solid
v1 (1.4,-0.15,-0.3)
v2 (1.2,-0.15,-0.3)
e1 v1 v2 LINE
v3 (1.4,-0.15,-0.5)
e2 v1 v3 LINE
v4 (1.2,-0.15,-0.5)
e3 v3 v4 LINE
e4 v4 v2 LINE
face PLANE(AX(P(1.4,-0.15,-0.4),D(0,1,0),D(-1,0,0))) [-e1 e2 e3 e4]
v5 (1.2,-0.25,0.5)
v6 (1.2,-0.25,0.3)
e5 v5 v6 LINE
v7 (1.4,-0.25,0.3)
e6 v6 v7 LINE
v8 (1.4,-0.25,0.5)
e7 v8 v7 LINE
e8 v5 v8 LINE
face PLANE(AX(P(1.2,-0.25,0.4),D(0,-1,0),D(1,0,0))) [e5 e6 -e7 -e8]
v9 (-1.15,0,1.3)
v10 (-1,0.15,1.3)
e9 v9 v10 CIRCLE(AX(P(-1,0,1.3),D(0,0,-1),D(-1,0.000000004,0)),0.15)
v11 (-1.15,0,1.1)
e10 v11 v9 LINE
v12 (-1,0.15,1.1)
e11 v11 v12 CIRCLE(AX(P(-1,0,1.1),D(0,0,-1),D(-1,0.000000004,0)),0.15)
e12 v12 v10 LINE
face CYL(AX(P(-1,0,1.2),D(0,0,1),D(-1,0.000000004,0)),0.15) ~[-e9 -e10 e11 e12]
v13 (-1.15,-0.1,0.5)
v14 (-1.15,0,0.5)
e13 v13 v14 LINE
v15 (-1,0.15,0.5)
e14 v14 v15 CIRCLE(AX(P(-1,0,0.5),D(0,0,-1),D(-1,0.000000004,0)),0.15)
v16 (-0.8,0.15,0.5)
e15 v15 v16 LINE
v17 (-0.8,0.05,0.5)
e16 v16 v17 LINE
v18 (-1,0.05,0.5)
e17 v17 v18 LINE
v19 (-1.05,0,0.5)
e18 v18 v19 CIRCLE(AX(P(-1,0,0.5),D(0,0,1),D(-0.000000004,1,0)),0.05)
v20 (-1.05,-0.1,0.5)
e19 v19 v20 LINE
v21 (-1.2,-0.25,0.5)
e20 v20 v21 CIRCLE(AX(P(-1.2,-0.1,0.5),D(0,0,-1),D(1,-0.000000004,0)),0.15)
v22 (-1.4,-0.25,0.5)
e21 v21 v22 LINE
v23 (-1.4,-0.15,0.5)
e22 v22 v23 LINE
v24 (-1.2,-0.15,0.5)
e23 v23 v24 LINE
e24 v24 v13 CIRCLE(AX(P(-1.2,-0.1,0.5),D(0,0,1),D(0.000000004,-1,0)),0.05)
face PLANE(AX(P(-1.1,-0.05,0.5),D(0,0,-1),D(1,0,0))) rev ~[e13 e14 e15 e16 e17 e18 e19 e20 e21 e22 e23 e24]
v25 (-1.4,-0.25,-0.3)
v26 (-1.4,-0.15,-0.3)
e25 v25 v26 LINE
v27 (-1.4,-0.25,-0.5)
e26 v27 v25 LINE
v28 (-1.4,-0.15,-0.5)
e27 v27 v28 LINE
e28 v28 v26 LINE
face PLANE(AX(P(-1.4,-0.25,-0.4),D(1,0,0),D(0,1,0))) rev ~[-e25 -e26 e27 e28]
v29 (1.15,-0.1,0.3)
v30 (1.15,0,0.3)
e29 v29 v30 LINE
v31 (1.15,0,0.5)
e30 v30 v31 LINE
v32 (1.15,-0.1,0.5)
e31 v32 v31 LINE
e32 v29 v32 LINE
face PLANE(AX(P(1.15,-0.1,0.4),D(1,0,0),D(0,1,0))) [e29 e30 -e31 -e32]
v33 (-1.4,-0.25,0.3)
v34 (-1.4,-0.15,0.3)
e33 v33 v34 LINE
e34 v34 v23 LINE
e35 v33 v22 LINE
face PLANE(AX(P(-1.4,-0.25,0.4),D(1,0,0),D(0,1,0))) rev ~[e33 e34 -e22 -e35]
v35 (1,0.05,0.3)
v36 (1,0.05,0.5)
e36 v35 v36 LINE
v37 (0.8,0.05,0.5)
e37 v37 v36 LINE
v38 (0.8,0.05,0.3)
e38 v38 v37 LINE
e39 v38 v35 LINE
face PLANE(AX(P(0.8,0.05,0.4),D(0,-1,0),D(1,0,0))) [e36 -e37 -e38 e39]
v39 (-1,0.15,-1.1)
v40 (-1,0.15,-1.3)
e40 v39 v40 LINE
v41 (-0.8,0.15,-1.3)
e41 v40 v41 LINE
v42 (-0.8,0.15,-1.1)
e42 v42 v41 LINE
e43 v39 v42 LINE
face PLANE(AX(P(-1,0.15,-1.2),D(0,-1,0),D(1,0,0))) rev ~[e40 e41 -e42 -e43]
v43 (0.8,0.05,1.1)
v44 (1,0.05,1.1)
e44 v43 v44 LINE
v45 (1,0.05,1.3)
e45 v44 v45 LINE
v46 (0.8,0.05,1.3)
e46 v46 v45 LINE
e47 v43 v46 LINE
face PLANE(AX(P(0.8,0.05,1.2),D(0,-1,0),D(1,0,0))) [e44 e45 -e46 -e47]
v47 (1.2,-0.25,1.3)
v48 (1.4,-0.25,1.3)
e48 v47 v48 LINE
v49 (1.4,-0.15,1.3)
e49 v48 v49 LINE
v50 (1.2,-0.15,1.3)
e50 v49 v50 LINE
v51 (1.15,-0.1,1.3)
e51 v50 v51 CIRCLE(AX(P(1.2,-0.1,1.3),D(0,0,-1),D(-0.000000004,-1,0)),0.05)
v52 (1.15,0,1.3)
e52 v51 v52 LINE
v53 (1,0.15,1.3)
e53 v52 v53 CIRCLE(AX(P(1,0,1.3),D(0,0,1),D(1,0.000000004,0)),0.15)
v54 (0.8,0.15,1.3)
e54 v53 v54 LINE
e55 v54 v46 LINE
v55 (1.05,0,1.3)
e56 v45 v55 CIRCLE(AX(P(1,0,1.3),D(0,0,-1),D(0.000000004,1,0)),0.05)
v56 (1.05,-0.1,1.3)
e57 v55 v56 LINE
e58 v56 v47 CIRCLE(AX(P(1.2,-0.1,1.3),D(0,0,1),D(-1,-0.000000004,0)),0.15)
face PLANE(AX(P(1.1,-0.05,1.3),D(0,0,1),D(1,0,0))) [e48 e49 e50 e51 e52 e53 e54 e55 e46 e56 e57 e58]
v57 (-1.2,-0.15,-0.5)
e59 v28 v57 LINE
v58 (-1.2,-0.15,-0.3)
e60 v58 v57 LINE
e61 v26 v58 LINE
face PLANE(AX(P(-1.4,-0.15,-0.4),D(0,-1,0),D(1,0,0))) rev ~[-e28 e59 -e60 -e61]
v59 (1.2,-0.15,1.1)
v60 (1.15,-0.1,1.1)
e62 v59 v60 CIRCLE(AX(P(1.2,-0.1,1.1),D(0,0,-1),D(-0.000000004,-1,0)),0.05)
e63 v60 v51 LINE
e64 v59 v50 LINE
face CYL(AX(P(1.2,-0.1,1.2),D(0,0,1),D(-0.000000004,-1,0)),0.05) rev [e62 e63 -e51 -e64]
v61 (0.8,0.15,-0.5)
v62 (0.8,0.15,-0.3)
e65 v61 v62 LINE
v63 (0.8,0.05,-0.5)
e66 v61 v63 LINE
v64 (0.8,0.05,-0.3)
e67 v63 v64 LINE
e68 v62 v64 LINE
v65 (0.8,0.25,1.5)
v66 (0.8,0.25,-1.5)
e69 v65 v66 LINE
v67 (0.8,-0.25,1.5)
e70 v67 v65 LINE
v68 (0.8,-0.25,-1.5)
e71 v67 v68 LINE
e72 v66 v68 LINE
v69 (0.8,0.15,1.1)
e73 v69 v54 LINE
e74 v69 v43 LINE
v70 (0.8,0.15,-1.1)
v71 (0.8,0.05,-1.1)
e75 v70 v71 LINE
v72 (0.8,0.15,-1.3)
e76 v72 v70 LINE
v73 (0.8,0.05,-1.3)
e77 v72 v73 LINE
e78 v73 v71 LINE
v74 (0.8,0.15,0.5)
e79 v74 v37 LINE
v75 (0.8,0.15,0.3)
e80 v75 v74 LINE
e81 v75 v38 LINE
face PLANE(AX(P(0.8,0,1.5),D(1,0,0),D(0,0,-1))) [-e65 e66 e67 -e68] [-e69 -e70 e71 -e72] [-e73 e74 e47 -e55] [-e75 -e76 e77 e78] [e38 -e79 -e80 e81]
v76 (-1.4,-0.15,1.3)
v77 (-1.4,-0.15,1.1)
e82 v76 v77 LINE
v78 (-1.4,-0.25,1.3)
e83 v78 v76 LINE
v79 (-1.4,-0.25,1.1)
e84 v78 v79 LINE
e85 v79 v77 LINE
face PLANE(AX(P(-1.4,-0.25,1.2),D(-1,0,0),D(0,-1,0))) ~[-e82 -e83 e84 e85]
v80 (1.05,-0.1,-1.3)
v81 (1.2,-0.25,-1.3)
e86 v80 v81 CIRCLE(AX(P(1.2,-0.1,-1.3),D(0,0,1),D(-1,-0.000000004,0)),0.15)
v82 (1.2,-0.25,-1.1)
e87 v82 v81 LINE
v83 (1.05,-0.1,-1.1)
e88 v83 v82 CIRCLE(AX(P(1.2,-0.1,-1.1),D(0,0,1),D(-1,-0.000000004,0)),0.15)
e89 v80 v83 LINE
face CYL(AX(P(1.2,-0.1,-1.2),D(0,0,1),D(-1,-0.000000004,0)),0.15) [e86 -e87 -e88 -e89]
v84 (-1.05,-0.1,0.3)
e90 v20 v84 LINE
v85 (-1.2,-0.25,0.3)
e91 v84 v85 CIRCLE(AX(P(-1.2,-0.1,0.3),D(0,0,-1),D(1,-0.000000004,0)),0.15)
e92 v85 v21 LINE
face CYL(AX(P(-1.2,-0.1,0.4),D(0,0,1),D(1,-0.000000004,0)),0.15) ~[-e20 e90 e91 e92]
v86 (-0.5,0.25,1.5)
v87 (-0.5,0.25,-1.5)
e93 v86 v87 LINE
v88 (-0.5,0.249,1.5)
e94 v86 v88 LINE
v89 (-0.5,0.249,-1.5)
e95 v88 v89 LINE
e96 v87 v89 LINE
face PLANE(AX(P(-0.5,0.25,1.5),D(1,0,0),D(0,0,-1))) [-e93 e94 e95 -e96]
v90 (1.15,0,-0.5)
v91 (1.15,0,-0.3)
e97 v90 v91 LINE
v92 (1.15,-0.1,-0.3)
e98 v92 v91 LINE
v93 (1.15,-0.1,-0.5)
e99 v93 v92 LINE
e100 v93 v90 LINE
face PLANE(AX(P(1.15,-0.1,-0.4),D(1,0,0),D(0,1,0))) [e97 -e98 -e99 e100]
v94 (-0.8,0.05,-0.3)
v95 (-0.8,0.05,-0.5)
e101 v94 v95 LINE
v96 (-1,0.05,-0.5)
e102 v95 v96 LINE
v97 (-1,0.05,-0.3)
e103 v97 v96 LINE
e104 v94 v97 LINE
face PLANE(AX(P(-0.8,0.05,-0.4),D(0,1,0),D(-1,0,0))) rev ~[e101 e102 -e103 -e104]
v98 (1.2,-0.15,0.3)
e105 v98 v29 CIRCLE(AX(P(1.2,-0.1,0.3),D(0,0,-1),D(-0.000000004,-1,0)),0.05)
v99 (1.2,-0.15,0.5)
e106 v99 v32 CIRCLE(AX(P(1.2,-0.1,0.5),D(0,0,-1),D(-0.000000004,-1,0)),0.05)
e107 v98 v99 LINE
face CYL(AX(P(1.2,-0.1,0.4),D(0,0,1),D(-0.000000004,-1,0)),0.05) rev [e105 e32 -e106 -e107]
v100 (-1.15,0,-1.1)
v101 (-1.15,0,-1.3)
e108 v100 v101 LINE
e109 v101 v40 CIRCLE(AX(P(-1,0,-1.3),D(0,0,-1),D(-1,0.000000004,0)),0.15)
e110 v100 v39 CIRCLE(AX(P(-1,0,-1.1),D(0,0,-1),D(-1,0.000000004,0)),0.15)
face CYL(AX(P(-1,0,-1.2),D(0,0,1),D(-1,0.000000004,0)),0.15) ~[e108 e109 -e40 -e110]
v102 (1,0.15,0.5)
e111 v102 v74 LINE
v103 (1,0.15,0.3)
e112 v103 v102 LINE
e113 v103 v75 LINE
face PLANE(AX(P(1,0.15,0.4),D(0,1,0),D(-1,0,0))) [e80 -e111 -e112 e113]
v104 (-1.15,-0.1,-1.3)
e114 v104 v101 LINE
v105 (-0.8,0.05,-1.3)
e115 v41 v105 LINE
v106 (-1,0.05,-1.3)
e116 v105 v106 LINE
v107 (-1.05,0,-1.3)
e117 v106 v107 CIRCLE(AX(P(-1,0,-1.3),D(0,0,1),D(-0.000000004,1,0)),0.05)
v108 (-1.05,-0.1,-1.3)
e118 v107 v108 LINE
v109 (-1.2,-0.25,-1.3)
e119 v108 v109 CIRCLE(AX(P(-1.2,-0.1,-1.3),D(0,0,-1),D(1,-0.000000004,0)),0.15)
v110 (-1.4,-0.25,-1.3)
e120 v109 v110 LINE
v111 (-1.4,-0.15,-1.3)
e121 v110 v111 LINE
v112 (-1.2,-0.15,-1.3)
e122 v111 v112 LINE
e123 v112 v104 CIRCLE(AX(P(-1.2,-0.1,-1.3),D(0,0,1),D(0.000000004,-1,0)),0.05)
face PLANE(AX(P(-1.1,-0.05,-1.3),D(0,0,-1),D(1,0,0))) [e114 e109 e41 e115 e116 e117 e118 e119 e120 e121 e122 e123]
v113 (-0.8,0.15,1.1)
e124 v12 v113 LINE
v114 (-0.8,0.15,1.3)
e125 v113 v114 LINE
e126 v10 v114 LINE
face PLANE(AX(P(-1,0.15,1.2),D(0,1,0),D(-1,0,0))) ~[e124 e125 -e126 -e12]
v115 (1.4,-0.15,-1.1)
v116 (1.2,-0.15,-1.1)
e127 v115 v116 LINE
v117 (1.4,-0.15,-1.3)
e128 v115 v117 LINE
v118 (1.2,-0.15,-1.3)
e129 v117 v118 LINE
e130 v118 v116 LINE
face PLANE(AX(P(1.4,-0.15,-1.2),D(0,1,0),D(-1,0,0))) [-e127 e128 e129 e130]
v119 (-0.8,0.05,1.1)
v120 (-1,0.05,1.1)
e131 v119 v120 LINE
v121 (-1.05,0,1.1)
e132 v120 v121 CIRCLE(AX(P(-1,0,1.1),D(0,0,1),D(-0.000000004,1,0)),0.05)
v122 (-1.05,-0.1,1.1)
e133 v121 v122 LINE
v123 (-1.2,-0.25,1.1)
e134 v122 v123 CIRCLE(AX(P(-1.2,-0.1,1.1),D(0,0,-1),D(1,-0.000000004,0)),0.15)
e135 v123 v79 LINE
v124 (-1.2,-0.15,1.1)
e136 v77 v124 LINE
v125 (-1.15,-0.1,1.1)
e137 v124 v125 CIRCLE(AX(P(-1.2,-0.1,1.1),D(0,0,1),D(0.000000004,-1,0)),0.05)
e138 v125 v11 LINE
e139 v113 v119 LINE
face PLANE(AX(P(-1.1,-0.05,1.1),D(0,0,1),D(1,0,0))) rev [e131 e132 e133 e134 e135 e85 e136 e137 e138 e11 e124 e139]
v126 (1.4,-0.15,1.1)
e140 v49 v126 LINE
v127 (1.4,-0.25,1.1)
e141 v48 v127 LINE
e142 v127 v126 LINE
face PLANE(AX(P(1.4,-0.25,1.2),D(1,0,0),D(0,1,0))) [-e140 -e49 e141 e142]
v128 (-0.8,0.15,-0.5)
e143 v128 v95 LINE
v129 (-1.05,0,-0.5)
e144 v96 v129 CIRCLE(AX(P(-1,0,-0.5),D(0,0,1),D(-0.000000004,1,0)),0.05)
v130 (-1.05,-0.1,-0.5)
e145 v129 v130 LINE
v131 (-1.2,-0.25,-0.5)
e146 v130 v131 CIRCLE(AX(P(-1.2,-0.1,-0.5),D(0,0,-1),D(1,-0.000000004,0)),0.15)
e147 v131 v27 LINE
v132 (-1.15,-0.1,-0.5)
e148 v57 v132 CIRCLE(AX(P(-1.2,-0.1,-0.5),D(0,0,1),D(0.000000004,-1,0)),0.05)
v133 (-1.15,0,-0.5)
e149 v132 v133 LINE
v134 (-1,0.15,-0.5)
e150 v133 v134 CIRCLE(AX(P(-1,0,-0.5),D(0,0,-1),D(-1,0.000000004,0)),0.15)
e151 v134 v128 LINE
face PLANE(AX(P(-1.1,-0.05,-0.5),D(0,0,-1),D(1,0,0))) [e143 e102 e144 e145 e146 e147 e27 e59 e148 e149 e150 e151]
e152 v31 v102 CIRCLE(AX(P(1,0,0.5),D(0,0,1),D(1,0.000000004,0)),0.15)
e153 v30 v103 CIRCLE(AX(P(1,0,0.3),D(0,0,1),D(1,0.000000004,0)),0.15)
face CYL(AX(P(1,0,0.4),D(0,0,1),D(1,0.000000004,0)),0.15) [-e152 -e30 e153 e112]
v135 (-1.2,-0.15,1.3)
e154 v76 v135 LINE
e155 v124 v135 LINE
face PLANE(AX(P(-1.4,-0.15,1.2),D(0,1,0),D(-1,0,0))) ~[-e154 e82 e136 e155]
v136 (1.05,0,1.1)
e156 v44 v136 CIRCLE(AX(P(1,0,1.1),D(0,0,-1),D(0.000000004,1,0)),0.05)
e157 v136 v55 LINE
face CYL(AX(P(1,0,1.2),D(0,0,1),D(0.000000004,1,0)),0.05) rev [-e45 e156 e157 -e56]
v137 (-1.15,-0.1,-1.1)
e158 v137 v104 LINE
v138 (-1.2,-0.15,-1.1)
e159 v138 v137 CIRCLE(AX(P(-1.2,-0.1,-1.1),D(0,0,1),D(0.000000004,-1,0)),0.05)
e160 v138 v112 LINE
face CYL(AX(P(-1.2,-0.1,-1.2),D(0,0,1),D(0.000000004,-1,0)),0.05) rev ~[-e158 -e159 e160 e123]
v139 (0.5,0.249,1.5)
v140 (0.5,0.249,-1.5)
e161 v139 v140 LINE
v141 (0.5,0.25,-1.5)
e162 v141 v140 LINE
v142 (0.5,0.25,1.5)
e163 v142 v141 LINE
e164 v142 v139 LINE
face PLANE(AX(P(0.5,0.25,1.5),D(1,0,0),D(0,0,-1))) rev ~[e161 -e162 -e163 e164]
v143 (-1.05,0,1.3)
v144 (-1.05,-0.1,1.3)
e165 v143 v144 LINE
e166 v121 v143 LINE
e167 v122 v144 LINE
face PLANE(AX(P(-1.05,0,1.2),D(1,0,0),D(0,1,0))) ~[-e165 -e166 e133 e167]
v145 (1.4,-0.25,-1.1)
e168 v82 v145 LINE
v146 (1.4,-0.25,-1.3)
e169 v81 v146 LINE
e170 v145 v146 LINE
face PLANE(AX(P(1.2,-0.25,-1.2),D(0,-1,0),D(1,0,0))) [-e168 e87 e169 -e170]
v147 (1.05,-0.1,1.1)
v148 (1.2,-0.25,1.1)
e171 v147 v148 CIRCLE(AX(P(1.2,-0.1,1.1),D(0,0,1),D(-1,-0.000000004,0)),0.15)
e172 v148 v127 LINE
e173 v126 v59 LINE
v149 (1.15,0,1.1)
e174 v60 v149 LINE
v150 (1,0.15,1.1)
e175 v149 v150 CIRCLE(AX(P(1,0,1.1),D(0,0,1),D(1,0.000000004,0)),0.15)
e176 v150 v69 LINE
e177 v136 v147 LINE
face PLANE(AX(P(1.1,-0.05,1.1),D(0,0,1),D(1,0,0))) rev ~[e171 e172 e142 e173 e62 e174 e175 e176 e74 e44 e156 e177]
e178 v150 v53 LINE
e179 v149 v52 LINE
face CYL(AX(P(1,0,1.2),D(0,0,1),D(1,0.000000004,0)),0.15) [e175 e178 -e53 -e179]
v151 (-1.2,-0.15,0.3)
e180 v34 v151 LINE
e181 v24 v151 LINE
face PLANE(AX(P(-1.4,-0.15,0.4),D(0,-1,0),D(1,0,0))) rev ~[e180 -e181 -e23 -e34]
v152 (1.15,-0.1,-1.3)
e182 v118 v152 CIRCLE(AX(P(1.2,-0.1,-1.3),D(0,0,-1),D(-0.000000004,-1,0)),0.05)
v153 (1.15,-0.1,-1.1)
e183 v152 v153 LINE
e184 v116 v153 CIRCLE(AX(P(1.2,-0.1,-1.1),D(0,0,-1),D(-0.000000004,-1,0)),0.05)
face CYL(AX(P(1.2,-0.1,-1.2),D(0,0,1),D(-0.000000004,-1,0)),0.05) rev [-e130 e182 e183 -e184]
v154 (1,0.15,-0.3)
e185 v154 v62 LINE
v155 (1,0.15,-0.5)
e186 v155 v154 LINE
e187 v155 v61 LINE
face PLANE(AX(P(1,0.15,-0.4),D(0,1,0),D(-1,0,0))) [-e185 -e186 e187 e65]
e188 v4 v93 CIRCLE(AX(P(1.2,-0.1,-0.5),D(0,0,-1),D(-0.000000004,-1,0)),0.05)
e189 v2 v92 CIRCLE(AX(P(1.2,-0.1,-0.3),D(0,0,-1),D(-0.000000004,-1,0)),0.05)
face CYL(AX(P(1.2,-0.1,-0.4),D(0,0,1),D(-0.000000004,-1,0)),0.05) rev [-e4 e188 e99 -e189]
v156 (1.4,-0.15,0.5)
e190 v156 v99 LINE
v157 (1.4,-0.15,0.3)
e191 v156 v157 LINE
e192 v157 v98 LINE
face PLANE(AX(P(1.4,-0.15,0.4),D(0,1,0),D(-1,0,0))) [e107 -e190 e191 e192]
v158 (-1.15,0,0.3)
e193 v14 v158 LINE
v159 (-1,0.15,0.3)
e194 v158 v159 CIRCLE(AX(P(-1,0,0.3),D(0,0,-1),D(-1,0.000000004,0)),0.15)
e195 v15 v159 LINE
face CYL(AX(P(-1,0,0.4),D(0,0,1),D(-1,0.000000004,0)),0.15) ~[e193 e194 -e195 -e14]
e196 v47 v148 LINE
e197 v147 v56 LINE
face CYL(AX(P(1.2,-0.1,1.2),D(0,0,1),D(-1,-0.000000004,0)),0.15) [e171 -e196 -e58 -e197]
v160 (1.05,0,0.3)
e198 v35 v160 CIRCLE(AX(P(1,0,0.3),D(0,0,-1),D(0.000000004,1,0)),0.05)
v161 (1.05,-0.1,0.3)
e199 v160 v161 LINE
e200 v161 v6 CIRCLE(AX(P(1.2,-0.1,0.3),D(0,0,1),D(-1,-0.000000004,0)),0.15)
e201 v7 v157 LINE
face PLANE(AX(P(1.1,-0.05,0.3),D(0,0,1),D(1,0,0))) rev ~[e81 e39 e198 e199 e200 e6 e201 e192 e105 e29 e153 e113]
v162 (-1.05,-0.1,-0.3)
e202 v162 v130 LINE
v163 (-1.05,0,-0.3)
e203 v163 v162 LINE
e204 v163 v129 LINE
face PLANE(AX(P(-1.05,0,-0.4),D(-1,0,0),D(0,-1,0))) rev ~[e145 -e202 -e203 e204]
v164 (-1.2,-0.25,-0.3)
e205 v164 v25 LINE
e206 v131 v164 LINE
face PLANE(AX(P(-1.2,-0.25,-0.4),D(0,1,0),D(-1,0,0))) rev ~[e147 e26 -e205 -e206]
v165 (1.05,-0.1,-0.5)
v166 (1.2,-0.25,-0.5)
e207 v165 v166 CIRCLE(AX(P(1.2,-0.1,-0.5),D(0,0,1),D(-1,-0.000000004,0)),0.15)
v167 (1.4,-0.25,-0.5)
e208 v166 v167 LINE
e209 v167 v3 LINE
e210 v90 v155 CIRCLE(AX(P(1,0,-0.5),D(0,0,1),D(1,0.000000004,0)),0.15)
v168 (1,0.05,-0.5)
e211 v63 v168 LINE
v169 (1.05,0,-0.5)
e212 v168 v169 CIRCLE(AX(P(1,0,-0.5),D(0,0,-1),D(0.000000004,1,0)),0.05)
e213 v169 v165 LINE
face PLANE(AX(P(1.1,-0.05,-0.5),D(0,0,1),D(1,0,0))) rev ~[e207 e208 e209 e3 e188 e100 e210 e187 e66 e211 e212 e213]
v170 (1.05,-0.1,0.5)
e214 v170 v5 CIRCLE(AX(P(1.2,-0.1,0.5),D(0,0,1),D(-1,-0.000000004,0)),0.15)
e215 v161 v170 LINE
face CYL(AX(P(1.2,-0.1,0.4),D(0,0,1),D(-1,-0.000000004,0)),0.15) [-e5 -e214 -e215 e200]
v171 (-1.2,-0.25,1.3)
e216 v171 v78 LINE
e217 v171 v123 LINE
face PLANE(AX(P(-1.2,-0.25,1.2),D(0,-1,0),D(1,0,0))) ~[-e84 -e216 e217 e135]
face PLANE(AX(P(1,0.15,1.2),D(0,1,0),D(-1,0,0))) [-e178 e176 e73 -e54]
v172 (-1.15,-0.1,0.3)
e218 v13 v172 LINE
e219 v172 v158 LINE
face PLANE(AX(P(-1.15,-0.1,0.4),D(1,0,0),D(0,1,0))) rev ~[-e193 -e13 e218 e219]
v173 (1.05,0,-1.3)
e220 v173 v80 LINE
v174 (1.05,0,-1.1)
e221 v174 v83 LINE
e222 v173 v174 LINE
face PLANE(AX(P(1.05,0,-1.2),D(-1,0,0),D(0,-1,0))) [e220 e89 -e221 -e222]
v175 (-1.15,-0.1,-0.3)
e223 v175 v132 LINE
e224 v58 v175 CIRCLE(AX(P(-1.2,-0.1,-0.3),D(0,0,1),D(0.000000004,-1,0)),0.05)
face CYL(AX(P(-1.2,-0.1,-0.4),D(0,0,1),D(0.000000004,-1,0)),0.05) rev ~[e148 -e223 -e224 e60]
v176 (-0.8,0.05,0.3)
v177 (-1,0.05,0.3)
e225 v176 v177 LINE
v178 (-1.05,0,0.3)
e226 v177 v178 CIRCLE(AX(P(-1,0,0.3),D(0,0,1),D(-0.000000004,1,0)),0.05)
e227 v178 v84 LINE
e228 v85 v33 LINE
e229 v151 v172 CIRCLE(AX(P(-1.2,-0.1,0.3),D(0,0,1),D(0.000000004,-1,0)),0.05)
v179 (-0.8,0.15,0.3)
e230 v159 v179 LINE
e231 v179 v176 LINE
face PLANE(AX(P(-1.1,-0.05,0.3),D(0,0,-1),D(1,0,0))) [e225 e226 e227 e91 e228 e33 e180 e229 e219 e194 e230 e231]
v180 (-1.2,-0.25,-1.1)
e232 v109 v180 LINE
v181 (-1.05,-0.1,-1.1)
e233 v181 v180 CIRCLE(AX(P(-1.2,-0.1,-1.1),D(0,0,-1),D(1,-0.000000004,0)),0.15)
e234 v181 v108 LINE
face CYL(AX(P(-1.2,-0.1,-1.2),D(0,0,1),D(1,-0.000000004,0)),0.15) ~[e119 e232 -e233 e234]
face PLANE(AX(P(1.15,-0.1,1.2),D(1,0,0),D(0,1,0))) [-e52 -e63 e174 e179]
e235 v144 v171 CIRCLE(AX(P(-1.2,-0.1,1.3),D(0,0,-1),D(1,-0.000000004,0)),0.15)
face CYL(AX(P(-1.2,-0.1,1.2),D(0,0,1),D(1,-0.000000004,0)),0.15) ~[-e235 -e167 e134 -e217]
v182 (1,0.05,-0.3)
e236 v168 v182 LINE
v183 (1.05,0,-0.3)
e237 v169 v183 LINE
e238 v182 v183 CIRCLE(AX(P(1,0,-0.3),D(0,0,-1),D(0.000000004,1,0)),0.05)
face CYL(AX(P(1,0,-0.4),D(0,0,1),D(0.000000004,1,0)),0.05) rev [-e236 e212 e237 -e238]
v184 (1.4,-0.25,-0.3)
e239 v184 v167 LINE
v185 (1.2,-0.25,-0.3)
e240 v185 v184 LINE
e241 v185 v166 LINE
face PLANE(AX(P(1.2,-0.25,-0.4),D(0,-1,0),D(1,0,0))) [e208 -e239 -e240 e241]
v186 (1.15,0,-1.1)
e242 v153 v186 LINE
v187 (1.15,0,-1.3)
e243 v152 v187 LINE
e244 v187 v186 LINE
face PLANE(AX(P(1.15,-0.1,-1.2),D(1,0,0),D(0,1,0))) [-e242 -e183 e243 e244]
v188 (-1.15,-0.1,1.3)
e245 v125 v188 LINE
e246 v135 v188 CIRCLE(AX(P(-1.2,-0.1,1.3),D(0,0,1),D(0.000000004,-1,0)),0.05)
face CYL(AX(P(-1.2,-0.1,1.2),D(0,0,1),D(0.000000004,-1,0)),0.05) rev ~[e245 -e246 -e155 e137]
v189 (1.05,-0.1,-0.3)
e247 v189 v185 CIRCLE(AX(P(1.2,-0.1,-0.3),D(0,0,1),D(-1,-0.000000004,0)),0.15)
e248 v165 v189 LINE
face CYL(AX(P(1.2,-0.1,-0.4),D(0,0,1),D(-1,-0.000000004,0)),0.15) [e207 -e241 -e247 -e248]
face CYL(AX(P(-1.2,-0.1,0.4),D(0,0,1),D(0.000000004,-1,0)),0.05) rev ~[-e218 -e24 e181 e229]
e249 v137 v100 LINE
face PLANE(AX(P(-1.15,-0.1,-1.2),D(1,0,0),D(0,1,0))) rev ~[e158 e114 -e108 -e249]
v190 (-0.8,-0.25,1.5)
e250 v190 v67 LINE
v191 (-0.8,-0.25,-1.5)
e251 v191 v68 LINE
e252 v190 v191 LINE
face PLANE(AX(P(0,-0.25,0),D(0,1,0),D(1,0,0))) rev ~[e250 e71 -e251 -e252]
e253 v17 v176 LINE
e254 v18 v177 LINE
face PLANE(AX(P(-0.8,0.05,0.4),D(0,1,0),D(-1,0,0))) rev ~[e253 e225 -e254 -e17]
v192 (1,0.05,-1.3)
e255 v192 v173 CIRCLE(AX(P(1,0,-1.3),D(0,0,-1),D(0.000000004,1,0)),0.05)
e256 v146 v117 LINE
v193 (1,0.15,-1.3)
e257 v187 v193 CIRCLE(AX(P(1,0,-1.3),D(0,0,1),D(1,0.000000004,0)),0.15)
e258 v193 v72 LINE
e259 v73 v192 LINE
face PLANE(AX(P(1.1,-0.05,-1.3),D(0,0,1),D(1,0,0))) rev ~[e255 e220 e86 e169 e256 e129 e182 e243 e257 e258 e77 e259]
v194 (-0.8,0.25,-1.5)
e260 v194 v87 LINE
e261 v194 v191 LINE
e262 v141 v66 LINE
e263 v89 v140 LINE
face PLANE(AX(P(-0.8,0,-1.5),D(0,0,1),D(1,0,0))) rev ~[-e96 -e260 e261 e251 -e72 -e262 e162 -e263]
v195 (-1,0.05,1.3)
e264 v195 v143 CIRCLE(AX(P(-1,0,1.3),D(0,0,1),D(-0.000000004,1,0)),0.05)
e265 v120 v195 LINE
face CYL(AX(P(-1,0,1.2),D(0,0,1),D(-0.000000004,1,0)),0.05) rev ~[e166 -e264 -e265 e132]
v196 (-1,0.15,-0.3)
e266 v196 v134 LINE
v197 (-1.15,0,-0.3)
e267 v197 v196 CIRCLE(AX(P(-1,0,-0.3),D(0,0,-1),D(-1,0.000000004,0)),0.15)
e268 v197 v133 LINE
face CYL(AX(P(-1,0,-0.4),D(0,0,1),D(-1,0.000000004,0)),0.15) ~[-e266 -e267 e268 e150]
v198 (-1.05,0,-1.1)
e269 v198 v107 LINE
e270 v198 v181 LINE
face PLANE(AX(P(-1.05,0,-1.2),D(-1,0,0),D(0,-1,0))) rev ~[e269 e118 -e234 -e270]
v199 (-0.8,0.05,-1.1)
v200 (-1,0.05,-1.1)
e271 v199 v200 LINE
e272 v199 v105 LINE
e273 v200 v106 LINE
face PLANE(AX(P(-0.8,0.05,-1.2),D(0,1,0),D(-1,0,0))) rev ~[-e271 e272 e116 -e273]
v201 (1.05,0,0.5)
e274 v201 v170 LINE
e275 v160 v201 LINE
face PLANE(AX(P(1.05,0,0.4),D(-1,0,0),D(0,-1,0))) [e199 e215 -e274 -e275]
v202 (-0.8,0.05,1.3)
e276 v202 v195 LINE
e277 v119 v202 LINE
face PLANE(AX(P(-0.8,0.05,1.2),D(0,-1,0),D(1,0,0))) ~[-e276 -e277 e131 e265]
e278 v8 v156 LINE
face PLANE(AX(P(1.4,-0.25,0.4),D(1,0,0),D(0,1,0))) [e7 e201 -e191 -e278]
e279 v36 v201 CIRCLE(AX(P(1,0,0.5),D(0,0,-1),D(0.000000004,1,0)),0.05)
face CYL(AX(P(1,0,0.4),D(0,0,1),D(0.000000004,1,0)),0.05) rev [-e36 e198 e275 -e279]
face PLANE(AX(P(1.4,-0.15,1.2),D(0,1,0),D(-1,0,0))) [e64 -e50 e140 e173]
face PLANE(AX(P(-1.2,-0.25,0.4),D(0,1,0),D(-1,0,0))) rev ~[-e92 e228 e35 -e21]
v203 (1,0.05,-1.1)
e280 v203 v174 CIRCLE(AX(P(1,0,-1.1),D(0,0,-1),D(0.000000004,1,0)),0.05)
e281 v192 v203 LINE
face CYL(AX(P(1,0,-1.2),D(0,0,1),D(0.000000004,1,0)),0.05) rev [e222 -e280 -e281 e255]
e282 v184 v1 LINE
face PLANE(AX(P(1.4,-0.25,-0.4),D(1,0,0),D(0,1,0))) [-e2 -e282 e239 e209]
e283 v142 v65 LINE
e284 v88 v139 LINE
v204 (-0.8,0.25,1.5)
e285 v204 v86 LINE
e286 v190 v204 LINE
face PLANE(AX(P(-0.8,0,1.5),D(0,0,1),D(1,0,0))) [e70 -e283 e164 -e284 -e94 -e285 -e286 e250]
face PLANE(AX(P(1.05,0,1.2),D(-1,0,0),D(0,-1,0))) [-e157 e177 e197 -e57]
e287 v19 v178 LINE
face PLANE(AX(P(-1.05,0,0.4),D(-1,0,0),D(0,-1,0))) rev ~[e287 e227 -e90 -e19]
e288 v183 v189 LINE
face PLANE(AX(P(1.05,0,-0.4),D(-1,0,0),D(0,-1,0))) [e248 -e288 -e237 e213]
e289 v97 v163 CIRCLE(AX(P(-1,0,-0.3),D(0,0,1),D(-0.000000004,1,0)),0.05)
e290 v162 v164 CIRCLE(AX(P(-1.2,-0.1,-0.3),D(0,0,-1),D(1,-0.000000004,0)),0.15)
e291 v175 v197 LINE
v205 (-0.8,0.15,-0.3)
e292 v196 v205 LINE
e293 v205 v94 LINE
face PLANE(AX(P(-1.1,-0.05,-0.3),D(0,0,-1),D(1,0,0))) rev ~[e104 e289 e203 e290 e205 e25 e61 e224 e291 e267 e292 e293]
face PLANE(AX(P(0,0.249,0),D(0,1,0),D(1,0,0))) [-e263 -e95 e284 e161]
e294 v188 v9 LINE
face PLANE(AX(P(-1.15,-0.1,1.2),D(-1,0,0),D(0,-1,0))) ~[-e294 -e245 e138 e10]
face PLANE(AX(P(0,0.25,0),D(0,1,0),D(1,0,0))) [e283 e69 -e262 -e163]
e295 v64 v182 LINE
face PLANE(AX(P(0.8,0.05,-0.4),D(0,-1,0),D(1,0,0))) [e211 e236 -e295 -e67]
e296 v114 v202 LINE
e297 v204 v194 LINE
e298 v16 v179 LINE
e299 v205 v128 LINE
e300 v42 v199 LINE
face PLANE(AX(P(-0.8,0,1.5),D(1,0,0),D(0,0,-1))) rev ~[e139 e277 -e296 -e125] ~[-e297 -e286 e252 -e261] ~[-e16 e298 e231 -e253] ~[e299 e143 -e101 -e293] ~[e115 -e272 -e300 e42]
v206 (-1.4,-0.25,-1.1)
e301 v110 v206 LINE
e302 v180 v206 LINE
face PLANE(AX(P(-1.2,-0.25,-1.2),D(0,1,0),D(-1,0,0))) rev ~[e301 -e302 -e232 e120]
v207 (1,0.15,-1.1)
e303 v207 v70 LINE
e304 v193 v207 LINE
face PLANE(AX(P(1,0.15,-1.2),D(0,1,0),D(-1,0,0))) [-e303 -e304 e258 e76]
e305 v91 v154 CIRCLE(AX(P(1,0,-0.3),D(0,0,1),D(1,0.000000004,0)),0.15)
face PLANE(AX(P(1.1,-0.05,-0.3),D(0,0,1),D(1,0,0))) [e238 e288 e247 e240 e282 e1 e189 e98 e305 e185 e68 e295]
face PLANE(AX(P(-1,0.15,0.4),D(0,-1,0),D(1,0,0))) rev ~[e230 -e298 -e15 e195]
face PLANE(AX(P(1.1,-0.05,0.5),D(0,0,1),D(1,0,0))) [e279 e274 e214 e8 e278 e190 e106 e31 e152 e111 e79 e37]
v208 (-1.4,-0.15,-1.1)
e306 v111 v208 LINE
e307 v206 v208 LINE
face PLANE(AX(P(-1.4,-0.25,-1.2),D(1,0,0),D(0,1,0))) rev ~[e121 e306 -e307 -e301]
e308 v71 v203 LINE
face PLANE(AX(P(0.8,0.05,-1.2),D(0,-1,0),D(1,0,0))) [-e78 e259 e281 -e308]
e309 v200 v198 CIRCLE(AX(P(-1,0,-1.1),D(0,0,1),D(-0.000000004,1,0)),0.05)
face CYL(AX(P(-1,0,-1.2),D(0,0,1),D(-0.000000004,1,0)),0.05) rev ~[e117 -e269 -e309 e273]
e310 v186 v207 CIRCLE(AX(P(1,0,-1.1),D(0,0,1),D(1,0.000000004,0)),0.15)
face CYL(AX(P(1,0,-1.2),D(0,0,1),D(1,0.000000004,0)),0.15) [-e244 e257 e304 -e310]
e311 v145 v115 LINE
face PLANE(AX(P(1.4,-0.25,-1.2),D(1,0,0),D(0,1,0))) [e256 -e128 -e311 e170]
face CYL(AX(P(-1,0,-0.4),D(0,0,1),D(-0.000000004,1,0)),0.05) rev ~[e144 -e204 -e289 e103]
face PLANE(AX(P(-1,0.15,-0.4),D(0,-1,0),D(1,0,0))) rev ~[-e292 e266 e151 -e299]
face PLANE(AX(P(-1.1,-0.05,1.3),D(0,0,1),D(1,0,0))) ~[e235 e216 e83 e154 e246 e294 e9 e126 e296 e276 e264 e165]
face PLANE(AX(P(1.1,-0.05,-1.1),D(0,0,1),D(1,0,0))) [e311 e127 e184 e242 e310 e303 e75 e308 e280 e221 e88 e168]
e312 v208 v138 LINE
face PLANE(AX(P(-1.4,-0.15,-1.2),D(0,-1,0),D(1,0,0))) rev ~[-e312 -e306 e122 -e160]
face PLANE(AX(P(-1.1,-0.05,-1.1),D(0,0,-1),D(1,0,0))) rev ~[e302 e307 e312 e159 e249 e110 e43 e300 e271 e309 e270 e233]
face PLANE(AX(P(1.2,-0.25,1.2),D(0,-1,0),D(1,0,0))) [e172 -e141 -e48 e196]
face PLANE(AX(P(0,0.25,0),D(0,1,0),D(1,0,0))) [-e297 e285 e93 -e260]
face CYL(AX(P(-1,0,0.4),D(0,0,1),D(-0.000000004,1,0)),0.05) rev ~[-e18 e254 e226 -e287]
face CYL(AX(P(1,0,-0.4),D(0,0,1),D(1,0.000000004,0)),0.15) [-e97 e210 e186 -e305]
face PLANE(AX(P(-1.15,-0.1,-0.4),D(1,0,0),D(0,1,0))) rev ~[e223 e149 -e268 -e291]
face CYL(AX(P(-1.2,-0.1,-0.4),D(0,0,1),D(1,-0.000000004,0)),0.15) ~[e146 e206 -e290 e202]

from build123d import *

# Parameters (mm, degrees)
BASES_W              = 1.6
BASES_H              = 3
BASE_DEPTH           = 0.25
MIDDLELEG_DEPTH      = 0.1
LPATTERN1_COUNT      = 4
LPATTERN1_PITCH      = 0.8
MIRROR1_COPY_1_DEPTH = 0.1
MIRROR1_COPY_2_DEPTH = 0.1
MIRROR1_COPY_3_DEPTH = 0.1
TEXTCUTS_W           = 1
TEXTCUTS_H           = 3
TEXTCUT_DEPTH        = 0.001


with BuildPart() as part:
    # BaseS → Base (new body, symmetric)
    with BuildSketch(Plane(origin=(0, 0, 0), x_dir=(1, 0, 0), z_dir=(0, 1, 0))):
        Rectangle(BASES_W, BASES_H)
    extrude(amount=BASE_DEPTH, both=True)

    # MiddleLegS → MiddleLeg (add, symmetric)
    with BuildSketch(Plane.XY.offset(1.2)):
        with BuildLine():
            Line((1.4, -0.15), (1.2, -0.15))
            ThreePointArc((1.2, -0.15), (1.164644661, -0.135355339), (1.15, -0.1))
            Line((1.15, -0.1), (1.15, 0))
            ThreePointArc((1.15, 0), (1.106066017, 0.106066017), (1, 0.15))
            Line((1, 0.15), (0.8, 0.15))
            Line((0.8, 0.15), (0.8, 0.05))
            Line((0.8, 0.05), (1, 0.05))
            ThreePointArc((1, 0.05), (1.035355339, 0.035355339), (1.05, 0))
            Line((1.05, 0), (1.05, -0.1))
            ThreePointArc((1.05, -0.1), (1.093933983, -0.206066017), (1.2, -0.25))
            Line((1.2, -0.25), (1.4, -0.25))
            Line((1.4, -0.25), (1.4, -0.15))
        make_face()
    middleleg = extrude(amount=MIDDLELEG_DEPTH, both=True)

    # LPattern1: MiddleLeg ×4
    with Locations(*[(0, 0, -i * LPATTERN1_PITCH) for i in range(1, LPATTERN1_COUNT)]):
        add(middleleg)

    # Mirror1: MiddleLeg across plane
    add(middleleg.mirror(Plane(origin=(0, 0, 0), x_dir=(0, 0, 1), z_dir=(1, 0, 0))))

    # Mirror1 copy 1 sketch → Mirror1 copy 1 (add, symmetric)
    with BuildSketch(Plane(origin=(0, 0, 0.4), x_dir=(-1, 0, 0), z_dir=(0, 0, 1))):
        with BuildLine():
            Line((1.4, 0.15), (1.2, 0.15))
            ThreePointArc((1.2, 0.15), (1.164644661, 0.135355339), (1.15, 0.1))
            Line((1.15, 0.1), (1.15, 0))
            ThreePointArc((1.15, 0), (1.106066017, -0.106066017), (1, -0.15))
            Line((1, -0.15), (0.8, -0.15))
            Line((0.8, -0.15), (0.8, -0.05))
            Line((0.8, -0.05), (1, -0.05))
            ThreePointArc((1, -0.05), (1.035355339, -0.035355339), (1.05, 0))
            Line((1.05, 0), (1.05, 0.1))
            ThreePointArc((1.05, 0.1), (1.093933983, 0.206066017), (1.2, 0.25))
            Line((1.2, 0.25), (1.4, 0.25))
            Line((1.4, 0.25), (1.4, 0.15))
        make_face()
    extrude(amount=MIRROR1_COPY_1_DEPTH, both=True)

    # Mirror1 copy 2 sketch → Mirror1 copy 2 (add, symmetric)
    with BuildSketch(Plane(origin=(0, 0, -0.4), x_dir=(-1, 0, 0), z_dir=(0, 0, 1))):
        with BuildLine():
            Line((1.4, 0.15), (1.2, 0.15))
            ThreePointArc((1.2, 0.15), (1.164644661, 0.135355339), (1.15, 0.1))
            Line((1.15, 0.1), (1.15, 0))
            ThreePointArc((1.15, 0), (1.106066017, -0.106066017), (1, -0.15))
            Line((1, -0.15), (0.8, -0.15))
            Line((0.8, -0.15), (0.8, -0.05))
            Line((0.8, -0.05), (1, -0.05))
            ThreePointArc((1, -0.05), (1.035355339, -0.035355339), (1.05, 0))
            Line((1.05, 0), (1.05, 0.1))
            ThreePointArc((1.05, 0.1), (1.093933983, 0.206066017), (1.2, 0.25))
            Line((1.2, 0.25), (1.4, 0.25))
            Line((1.4, 0.25), (1.4, 0.15))
        make_face()
    extrude(amount=MIRROR1_COPY_2_DEPTH, both=True)

    # Mirror1 copy 3 sketch → Mirror1 copy 3 (add, symmetric)
    with BuildSketch(Plane(origin=(0, 0, -1.2), x_dir=(-1, 0, 0), z_dir=(0, 0, 1))):
        with BuildLine():
            Line((1.4, 0.15), (1.2, 0.15))
            ThreePointArc((1.2, 0.15), (1.164644661, 0.135355339), (1.15, 0.1))
            Line((1.15, 0.1), (1.15, 0))
            ThreePointArc((1.15, 0), (1.106066017, -0.106066017), (1, -0.15))
            Line((1, -0.15), (0.8, -0.15))
            Line((0.8, -0.15), (0.8, -0.05))
            Line((0.8, -0.05), (1, -0.05))
            ThreePointArc((1, -0.05), (1.035355339, -0.035355339), (1.05, 0))
            Line((1.05, 0), (1.05, 0.1))
            ThreePointArc((1.05, 0.1), (1.093933983, 0.206066017), (1.2, 0.25))
            Line((1.2, 0.25), (1.4, 0.25))
            Line((1.4, 0.25), (1.4, 0.15))
        make_face()
    extrude(amount=MIRROR1_COPY_3_DEPTH, both=True)

    # TextCutS → TextCut (cut)
    with BuildSketch(Plane(origin=(0, 0.25, 0), x_dir=(1, 0, 0), z_dir=(0, 1, 0))):
        Rectangle(TEXTCUTS_W, TEXTCUTS_H)
    extrude(amount=-TEXTCUT_DEPTH, mode=Mode.SUBTRACT)


solid = part.part
